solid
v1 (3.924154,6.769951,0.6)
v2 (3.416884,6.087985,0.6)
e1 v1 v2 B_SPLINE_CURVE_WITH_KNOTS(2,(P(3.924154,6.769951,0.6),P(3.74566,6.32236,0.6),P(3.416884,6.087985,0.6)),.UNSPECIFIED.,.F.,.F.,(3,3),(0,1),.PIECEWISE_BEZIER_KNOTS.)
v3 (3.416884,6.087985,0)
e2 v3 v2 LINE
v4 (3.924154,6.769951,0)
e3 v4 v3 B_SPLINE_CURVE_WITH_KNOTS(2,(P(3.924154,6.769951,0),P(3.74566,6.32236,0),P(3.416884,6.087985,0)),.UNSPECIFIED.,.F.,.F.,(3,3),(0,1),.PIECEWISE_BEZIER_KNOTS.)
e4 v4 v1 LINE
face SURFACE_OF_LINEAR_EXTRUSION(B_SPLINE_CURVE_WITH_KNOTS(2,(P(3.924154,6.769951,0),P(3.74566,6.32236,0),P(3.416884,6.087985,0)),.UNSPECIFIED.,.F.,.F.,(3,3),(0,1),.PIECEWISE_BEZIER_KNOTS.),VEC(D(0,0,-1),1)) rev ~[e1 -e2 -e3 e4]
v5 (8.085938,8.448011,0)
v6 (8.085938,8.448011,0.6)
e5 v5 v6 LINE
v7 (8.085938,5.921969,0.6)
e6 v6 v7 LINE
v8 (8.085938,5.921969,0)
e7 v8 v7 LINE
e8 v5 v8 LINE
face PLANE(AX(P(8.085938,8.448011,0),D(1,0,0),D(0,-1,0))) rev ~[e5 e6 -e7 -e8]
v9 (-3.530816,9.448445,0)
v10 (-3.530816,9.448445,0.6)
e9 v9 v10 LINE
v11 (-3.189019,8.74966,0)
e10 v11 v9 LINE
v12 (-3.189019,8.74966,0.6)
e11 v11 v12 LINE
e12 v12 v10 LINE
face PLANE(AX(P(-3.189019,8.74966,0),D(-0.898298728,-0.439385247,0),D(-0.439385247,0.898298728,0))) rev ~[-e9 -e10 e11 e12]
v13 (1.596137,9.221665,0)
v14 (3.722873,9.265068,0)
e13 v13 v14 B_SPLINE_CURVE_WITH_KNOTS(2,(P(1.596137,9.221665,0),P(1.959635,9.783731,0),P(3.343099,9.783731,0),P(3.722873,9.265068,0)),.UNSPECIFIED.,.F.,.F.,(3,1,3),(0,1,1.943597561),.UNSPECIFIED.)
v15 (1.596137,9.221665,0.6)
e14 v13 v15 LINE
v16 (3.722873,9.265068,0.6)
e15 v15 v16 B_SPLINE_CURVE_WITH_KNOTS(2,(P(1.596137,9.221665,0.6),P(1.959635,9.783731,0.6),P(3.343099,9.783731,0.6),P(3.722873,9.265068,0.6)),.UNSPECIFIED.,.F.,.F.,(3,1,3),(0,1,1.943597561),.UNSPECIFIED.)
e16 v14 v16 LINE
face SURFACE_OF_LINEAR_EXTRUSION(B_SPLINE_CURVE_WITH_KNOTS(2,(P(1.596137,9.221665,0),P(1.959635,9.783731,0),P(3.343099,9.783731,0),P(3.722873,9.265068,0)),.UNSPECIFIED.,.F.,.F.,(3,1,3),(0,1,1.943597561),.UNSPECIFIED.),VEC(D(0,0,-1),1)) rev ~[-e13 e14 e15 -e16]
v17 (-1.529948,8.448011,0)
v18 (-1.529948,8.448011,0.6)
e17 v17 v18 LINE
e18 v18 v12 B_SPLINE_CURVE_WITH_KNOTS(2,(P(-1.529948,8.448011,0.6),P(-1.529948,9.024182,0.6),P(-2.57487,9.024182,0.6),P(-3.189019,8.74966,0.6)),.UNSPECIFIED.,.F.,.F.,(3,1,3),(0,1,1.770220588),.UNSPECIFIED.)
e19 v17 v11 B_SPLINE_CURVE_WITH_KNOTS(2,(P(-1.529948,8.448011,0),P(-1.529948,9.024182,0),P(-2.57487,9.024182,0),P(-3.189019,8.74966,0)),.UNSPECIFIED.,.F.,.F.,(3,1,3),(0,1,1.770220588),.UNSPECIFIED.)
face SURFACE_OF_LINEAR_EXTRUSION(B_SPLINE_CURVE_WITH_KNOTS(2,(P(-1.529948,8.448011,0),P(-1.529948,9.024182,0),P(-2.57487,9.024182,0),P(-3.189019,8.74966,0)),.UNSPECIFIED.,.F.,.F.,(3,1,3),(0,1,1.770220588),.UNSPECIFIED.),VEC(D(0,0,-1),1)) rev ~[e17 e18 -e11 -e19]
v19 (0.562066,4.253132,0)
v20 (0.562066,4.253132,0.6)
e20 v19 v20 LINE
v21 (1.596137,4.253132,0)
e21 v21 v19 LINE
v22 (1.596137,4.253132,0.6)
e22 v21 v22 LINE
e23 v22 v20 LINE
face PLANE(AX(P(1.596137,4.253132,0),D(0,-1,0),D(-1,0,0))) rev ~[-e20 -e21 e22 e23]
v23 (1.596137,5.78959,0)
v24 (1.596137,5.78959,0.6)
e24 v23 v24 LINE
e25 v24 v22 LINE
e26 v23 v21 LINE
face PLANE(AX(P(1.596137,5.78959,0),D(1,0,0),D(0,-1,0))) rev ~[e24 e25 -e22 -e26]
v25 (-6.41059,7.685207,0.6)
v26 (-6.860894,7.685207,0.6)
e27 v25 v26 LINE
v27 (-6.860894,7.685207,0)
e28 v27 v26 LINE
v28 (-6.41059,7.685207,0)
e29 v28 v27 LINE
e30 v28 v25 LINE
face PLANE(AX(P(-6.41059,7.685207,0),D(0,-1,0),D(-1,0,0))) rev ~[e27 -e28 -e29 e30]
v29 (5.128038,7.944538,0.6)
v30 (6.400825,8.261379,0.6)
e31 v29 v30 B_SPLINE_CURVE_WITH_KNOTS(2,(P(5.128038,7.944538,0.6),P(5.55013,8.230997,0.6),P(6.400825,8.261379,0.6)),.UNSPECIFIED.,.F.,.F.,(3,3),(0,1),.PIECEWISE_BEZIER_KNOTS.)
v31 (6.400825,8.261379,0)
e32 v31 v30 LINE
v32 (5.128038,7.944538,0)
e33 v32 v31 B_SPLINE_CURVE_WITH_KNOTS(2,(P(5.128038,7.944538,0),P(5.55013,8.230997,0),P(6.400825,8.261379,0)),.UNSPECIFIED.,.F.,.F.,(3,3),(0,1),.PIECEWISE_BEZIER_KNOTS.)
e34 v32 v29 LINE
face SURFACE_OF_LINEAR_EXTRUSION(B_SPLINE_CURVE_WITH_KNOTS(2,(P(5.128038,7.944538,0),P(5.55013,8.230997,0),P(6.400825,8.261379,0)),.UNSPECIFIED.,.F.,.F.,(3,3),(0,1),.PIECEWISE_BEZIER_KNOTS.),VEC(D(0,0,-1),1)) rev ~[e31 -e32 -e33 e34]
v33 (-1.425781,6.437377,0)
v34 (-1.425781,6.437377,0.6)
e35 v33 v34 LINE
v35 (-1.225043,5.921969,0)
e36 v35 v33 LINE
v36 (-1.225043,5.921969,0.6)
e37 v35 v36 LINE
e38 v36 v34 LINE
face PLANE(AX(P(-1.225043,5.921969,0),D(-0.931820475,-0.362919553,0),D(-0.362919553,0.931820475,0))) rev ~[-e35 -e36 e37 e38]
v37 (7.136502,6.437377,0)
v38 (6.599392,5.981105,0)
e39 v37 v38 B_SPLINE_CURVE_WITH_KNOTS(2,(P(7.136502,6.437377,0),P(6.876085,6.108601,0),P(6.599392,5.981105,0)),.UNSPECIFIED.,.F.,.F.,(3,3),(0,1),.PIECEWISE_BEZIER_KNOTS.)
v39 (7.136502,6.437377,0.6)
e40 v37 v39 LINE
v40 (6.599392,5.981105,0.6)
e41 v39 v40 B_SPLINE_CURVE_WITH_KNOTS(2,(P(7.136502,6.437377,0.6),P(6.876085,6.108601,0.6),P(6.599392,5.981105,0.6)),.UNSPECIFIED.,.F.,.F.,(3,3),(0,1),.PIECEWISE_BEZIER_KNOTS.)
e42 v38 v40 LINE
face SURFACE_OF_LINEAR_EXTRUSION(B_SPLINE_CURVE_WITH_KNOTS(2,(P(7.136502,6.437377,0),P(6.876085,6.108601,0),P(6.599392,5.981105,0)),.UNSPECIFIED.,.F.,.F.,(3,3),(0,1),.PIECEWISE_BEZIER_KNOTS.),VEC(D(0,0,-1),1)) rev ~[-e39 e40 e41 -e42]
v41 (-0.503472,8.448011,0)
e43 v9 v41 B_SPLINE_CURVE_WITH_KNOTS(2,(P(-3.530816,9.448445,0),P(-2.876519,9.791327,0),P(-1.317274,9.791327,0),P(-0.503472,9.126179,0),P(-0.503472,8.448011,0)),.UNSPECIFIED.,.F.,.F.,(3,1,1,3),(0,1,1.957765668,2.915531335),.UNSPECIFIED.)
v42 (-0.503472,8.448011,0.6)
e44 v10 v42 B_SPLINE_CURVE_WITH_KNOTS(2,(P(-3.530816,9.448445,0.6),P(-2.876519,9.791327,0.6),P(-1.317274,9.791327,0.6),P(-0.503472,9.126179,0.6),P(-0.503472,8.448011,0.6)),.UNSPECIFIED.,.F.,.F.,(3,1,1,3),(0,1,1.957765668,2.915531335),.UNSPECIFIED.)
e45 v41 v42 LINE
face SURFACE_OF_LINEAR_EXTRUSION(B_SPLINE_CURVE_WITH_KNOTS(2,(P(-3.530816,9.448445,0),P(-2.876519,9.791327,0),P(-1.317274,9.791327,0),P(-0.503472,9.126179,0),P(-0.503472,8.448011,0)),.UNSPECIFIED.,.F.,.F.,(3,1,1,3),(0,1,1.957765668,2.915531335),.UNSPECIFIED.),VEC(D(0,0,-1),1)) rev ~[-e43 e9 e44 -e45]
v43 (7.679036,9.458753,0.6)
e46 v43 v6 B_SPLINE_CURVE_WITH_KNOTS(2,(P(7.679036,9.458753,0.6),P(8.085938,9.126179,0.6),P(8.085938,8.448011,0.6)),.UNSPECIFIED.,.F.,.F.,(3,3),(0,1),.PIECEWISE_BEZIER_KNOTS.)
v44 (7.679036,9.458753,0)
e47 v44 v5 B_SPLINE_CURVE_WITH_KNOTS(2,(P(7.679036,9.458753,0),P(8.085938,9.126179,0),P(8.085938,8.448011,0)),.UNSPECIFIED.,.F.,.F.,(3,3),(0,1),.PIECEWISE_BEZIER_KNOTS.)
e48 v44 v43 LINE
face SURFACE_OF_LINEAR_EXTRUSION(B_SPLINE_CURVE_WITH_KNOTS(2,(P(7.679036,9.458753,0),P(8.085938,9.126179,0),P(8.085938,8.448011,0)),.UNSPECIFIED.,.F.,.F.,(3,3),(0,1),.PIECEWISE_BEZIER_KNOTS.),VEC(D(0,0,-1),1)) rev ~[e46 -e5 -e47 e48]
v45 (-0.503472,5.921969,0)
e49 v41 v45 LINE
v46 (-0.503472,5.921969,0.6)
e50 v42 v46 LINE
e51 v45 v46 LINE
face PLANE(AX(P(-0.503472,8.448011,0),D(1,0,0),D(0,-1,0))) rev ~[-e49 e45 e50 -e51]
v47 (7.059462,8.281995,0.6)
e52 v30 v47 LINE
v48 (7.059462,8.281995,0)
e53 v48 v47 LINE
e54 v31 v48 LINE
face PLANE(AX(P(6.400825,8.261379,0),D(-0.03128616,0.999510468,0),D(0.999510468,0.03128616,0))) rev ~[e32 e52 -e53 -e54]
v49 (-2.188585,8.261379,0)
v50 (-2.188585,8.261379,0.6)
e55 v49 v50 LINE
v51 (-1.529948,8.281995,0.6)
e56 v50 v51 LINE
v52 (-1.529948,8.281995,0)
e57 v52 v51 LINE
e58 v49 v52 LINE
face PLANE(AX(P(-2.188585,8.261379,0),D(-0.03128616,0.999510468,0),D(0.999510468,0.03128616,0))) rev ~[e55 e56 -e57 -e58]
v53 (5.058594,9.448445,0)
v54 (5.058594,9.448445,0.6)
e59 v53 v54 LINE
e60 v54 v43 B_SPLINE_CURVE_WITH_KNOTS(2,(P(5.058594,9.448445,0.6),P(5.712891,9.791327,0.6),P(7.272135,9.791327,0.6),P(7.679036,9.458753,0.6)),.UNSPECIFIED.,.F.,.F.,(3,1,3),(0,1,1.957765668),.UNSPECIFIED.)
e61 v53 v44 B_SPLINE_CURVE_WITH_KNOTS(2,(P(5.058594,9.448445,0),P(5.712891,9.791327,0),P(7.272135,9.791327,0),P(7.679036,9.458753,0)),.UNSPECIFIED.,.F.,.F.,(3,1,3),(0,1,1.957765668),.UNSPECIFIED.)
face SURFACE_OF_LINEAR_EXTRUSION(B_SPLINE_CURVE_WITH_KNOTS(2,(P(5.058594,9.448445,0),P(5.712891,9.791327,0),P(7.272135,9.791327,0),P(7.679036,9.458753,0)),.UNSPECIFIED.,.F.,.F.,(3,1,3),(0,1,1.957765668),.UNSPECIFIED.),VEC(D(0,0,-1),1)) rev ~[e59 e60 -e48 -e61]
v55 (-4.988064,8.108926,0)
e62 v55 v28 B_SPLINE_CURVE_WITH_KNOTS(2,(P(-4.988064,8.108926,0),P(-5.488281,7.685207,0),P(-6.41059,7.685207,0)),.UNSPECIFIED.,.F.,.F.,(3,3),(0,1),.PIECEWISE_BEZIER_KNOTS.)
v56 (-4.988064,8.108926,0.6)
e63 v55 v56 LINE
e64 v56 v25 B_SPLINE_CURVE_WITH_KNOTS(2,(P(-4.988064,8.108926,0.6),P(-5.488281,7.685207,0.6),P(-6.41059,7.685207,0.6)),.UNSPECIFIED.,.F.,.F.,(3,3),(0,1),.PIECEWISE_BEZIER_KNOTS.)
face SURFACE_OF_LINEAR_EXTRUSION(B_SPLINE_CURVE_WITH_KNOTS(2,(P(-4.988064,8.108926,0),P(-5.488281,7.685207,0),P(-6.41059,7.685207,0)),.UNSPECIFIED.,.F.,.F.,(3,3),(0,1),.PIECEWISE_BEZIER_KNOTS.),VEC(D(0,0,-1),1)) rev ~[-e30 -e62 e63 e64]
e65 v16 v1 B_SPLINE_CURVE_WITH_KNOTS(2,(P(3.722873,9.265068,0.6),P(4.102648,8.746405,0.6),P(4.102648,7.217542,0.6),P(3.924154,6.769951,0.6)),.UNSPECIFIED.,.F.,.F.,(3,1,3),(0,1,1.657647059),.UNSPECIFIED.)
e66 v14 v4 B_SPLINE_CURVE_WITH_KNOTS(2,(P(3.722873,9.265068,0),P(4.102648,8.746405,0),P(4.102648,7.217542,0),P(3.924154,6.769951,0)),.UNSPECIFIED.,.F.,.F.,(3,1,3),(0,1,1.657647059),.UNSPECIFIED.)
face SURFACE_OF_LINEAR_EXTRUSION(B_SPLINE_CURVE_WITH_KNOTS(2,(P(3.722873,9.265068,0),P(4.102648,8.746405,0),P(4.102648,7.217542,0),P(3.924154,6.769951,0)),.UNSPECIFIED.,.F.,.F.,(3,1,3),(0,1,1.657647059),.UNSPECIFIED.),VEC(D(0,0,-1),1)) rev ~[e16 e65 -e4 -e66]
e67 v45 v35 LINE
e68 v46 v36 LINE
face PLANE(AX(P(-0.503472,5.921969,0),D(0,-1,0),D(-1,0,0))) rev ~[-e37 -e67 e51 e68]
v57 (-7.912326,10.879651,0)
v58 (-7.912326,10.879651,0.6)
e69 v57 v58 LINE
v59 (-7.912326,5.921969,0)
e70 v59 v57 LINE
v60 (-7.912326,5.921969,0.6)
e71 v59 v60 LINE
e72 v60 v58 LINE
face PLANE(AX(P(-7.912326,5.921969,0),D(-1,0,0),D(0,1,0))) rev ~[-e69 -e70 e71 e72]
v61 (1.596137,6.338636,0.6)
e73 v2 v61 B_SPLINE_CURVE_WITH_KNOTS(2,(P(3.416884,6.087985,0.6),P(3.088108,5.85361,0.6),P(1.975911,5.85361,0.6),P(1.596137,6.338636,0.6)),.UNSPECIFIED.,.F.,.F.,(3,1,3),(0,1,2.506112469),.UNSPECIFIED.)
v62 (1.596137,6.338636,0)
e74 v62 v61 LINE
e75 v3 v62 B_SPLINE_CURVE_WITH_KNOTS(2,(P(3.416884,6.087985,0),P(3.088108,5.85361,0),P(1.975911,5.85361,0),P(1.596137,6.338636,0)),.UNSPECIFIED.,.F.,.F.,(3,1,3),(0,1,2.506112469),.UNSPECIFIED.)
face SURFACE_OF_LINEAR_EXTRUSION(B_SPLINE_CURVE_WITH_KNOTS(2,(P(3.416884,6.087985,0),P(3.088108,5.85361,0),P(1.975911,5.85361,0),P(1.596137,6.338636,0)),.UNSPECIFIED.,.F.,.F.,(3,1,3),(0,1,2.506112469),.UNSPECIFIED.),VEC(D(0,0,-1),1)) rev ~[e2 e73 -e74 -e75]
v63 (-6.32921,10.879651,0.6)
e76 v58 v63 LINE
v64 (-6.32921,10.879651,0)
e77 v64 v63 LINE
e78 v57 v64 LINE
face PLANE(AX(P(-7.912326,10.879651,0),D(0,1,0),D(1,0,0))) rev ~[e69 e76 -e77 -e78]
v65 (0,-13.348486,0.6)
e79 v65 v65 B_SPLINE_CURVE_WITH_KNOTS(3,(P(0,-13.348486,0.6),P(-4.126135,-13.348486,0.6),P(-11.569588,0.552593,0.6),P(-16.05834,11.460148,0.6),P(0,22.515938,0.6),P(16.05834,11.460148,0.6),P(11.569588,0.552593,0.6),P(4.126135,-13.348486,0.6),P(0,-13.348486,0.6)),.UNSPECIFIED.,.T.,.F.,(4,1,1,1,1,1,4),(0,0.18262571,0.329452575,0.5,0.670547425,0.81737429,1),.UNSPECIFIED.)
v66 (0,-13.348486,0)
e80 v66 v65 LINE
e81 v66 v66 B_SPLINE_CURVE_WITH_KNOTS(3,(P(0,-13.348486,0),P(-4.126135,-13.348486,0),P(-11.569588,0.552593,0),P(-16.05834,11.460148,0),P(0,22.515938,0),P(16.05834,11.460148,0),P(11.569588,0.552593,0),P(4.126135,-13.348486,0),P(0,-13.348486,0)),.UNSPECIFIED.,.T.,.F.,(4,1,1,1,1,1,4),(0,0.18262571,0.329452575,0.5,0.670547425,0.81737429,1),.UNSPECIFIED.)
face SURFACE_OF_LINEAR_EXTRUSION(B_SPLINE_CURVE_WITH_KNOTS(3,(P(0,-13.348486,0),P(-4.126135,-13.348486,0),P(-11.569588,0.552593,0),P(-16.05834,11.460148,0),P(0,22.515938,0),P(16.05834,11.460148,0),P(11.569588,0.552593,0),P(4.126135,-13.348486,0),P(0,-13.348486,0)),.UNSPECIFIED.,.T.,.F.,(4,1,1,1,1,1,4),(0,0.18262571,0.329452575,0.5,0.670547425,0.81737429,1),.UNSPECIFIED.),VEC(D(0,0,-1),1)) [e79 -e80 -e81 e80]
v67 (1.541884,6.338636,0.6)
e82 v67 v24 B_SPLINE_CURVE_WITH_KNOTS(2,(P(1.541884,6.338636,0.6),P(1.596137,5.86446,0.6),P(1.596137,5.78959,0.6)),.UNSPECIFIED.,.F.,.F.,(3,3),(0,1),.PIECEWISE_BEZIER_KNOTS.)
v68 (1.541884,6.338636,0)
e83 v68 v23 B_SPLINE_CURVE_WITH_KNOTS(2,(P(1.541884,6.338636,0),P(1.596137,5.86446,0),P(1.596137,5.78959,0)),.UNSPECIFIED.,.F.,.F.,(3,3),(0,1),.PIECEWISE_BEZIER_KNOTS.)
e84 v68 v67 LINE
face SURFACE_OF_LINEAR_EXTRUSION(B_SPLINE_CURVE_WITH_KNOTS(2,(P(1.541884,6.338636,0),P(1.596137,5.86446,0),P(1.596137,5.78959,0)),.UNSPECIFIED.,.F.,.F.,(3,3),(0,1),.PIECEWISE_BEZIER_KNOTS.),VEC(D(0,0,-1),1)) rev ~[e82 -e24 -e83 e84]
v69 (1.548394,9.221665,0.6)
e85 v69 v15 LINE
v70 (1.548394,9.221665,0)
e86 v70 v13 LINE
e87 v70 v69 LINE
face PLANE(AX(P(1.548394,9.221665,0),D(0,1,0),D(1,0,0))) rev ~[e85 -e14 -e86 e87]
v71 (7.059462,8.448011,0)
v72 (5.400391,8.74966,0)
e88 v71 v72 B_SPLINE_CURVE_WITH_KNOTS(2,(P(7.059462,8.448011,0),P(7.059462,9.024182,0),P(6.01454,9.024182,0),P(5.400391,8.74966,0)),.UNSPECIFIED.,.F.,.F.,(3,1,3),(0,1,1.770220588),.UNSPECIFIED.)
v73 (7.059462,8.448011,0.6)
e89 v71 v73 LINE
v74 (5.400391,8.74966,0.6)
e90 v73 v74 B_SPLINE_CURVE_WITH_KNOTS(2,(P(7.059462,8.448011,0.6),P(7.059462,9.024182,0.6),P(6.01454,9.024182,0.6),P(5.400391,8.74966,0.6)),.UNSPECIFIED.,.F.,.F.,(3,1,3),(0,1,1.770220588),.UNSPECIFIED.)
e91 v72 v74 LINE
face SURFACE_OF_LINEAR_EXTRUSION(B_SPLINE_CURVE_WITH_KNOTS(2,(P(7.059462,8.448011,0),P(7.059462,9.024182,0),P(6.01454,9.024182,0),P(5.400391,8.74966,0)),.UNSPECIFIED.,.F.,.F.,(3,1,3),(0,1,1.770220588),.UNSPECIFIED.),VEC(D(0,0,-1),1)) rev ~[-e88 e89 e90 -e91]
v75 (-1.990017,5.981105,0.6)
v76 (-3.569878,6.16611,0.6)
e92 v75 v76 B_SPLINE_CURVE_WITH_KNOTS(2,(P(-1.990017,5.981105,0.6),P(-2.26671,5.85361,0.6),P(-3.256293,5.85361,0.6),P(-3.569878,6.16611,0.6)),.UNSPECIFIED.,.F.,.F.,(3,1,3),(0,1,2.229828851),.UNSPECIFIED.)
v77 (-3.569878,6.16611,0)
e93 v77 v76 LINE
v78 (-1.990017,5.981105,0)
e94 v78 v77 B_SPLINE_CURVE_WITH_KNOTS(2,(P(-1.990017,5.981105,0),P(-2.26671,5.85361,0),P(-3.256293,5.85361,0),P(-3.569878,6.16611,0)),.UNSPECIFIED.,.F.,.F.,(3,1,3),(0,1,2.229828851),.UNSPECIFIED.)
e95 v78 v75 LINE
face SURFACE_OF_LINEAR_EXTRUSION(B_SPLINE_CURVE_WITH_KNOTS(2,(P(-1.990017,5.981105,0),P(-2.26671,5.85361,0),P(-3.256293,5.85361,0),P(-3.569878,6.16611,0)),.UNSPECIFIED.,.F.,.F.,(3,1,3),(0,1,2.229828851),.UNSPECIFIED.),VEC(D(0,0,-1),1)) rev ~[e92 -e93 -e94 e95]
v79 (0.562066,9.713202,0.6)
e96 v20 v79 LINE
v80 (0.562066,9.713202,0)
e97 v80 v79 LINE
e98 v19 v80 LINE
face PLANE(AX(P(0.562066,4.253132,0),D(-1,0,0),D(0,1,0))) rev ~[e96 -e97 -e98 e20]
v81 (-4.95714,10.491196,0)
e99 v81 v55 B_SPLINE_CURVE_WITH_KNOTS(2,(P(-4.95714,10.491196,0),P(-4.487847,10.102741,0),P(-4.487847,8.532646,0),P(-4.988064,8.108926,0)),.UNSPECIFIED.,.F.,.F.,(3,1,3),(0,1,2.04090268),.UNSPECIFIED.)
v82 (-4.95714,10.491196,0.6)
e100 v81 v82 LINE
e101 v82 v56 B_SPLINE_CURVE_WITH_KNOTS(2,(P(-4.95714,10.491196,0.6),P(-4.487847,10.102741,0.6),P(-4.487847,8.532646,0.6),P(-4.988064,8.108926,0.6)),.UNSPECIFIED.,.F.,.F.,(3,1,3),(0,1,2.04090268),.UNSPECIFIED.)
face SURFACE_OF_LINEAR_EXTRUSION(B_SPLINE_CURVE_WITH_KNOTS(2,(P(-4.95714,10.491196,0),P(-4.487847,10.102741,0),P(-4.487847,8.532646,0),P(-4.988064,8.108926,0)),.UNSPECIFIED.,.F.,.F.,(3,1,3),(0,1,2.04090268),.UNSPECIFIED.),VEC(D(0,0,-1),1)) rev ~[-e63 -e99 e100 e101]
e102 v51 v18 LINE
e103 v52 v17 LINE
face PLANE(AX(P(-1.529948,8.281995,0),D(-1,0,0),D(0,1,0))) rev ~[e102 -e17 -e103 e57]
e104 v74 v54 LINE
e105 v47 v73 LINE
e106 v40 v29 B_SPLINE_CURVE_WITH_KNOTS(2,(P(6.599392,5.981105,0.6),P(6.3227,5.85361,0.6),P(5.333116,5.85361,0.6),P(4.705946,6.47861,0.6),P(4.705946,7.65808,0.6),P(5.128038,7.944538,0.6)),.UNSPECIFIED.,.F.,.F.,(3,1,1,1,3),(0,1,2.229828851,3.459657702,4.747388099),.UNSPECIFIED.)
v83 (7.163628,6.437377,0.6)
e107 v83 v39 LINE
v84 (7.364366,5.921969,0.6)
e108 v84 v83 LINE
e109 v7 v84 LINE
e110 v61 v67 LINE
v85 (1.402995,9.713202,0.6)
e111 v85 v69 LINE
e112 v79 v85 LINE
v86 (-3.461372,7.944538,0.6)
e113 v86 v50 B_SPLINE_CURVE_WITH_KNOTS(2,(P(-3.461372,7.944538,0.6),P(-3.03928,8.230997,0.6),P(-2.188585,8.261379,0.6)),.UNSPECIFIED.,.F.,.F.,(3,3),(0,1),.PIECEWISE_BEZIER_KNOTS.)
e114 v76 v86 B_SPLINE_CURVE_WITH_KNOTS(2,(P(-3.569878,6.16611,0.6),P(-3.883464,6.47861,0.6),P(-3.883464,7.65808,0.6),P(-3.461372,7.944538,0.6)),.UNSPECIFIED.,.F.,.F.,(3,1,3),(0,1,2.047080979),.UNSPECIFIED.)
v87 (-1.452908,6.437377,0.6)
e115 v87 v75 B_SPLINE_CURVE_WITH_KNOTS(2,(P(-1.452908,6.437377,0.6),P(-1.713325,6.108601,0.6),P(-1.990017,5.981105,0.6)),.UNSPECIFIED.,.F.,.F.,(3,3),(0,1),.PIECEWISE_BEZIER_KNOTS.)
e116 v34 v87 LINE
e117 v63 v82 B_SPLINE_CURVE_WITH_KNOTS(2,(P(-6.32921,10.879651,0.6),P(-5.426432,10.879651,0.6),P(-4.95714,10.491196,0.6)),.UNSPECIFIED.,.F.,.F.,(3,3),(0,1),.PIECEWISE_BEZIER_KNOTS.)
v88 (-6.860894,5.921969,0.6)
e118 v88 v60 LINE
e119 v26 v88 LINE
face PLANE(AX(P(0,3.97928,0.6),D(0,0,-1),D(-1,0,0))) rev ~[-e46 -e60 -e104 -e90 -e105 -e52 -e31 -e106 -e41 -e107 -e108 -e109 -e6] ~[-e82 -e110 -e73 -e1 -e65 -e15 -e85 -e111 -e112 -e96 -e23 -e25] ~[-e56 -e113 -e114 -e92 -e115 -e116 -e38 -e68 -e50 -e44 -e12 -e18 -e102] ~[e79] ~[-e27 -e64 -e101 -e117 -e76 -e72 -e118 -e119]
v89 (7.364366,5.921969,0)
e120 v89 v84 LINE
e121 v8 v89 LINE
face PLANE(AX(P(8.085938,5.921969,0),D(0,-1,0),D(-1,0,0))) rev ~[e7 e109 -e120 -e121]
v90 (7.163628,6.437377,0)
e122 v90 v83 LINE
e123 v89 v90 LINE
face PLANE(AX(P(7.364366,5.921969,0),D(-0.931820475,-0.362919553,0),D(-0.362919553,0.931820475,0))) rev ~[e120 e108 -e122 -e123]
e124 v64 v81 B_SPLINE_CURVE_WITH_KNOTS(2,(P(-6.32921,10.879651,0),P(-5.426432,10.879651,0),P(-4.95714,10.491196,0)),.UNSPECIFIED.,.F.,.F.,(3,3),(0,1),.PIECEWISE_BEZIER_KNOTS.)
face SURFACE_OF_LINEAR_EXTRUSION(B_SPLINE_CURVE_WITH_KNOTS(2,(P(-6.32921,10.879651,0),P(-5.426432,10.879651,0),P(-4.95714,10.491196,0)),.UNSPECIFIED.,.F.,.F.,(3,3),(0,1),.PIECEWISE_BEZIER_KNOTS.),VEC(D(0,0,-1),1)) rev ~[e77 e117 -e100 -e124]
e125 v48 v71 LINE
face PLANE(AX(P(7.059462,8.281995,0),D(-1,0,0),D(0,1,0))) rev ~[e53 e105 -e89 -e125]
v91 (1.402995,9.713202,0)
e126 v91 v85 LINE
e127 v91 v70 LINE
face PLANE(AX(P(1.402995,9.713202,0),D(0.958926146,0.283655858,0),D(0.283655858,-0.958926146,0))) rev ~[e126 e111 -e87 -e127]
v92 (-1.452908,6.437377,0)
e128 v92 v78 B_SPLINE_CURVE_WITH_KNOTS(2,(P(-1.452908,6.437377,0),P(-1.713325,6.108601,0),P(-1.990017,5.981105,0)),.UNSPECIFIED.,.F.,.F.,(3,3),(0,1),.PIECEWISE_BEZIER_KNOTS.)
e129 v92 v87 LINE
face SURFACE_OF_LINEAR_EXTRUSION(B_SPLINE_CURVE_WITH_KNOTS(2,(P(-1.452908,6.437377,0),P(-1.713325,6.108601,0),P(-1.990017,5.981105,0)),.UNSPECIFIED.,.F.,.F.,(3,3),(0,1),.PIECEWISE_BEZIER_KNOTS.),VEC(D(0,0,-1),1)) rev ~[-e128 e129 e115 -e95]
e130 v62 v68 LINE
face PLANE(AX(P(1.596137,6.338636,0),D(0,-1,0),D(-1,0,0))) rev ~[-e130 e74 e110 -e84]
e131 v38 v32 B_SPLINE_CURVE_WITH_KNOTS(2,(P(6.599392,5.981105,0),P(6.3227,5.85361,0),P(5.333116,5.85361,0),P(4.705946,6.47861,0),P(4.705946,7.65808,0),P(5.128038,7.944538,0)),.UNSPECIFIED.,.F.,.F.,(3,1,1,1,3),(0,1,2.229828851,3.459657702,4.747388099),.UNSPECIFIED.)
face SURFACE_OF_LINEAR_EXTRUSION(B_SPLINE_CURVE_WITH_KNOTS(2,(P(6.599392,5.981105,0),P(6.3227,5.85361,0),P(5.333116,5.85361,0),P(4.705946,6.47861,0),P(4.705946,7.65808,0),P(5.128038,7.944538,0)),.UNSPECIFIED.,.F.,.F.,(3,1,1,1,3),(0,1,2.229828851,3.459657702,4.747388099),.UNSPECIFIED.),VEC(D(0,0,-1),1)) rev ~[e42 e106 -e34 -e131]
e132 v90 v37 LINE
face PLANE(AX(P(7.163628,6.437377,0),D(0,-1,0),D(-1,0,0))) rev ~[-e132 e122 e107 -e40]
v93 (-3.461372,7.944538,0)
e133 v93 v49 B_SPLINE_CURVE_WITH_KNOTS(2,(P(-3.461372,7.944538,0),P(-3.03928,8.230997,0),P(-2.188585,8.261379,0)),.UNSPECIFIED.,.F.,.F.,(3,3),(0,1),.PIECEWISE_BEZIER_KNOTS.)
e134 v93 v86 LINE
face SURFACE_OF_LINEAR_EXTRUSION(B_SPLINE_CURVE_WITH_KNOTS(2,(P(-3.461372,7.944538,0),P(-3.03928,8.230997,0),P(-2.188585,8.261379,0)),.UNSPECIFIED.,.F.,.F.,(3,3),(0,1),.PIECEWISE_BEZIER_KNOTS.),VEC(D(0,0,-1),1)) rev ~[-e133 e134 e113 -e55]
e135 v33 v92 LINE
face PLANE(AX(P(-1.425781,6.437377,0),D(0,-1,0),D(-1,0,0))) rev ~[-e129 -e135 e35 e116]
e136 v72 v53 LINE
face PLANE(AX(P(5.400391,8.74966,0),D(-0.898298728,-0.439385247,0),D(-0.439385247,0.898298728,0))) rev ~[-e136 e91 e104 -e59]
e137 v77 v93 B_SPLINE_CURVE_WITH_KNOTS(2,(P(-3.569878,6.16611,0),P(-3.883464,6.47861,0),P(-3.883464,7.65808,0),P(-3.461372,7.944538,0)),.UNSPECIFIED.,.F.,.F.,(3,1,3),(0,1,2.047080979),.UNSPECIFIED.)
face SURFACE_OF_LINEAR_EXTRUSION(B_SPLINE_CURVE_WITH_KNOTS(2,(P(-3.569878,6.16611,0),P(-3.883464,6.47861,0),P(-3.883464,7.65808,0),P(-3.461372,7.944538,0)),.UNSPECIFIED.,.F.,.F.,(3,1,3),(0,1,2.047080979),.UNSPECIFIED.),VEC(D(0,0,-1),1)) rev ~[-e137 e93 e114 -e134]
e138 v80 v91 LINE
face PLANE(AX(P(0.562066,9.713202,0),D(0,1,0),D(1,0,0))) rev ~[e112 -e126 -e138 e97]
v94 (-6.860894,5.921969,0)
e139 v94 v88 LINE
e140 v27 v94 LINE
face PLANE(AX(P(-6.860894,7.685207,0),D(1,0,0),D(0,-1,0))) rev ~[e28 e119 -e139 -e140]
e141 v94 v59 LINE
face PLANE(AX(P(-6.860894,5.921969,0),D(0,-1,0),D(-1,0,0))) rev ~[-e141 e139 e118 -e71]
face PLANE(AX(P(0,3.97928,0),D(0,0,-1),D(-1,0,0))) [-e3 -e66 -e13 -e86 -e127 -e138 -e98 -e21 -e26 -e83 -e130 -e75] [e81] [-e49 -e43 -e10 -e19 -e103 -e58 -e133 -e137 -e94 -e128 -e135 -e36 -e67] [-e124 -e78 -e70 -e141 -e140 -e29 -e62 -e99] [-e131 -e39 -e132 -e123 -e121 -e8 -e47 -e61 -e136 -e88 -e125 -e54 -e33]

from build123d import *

# Parameters (mm, degrees)
F1_DEPTH = 0.6


with BuildPart() as f1:
    # F0 (on Top) → F1 (new body)
    with BuildSketch(Plane.XY):
        with BuildLine():
            add(Edge.make_bspline(
                [(0, -13.3484860004), (-4.1261352973, -13.3484860004), (-11.5695883563, 0.5525926673), (-16.058339722, 11.46014805), (0, 22.5159383761), (16.058339722, 11.46014805), (11.5695883563, 0.5525926673), (4.1261352973, -13.3484860004), (0, -13.3484860004)],
                knots=[0, 0, 0, 0, 0.18262571, 0.3294525753, 0.5, 0.6705474247, 0.81737429, 1, 1, 1, 1], degree=3))
        make_face()
        with BuildLine():
            add(Edge.make_bspline(
                [(-4.9571397569, 10.4911963321), (-4.4878472222, 10.102741471), (-4.4878472222, 9.3334272349)],
                knots=[0, 0, 0, 1, 1, 1], degree=2))
            add(Edge.make_bspline(
                [(-4.4878472222, 9.3334272349), (-4.4878472222, 8.5326459849), (-4.9880642361, 8.1089263668)],
                knots=[0, 0, 0, 1, 1, 1], degree=2))
            add(Edge.make_bspline(
                [(-4.9880642361, 8.1089263668), (-5.48828125, 7.6852067488), (-6.4105902778, 7.6852067488)],
                knots=[0, 0, 0, 1, 1, 1], degree=2))
            Line((-6.4105902778, 7.6852067488), (-6.8608940972, 7.6852067488))
            Line((-6.8608940972, 7.6852067488), (-6.8608940972, 5.9219689015))
            Line((-6.8608940972, 5.9219689015), (-7.9123263889, 5.9219689015))
            Line((-7.9123263889, 5.9219689015), (-7.9123263889, 10.8796511932))
            Line((-7.9123263889, 10.8796511932), (-6.3292100694, 10.8796511932))
            add(Edge.make_bspline(
                [(-6.3292100694, 10.8796511932), (-5.4264322917, 10.8796511932), (-4.9571397569, 10.4911963321)],
                knots=[0, 0, 0, 1, 1, 1], degree=2))
        make_face(mode=Mode.SUBTRACT)
        with BuildLine():
            Line((-0.5034722222, 5.9219689015), (-1.2250434028, 5.9219689015))
            Line((-1.2250434028, 5.9219689015), (-1.42578125, 6.4373768876))
            Line((-1.42578125, 6.4373768876), (-1.4529079861, 6.4373768876))
            add(Edge.make_bspline(
                [(-1.4529079861, 6.4373768876), (-1.7133246528, 6.108600846), (-1.9900173611, 5.9811051863)],
                knots=[0, 0, 0, 1, 1, 1], degree=2))
            add(Edge.make_bspline(
                [(-1.9900173611, 5.9811051863), (-2.2667100694, 5.8536095265), (-2.7105034722, 5.8536095265)],
                knots=[0, 0, 0, 1, 1, 1], degree=2))
            add(Edge.make_bspline(
                [(-2.7105034722, 5.8536095265), (-3.2562934028, 5.8536095265), (-3.5698784722, 6.1661095265)],
                knots=[0, 0, 0, 1, 1, 1], degree=2))
            add(Edge.make_bspline(
                [(-3.5698784722, 6.1661095265), (-3.8834635417, 6.4786095265), (-3.8834635417, 7.0547814015)],
                knots=[0, 0, 0, 1, 1, 1], degree=2))
            add(Edge.make_bspline(
                [(-3.8834635417, 7.0547814015), (-3.8834635417, 7.6580800126), (-3.4613715278, 7.944538346)],
                knots=[0, 0, 0, 1, 1, 1], degree=2))
            add(Edge.make_bspline(
                [(-3.4613715278, 7.944538346), (-3.0392795139, 8.2309966793), (-2.1885850694, 8.2613786238)],
                knots=[0, 0, 0, 1, 1, 1], degree=2))
            Line((-2.1885850694, 8.2613786238), (-1.5299479167, 8.2819949432))
            Line((-1.5299479167, 8.2819949432), (-1.5299479167, 8.4480105682))
            add(Edge.make_bspline(
                [(-1.5299479167, 8.4480105682), (-1.5299479167, 9.0241824432), (-2.1202256944, 9.0241824432)],
                knots=[0, 0, 0, 1, 1, 1], degree=2))
            add(Edge.make_bspline(
                [(-2.1202256944, 9.0241824432), (-2.5748697917, 9.0241824432), (-3.1890190972, 8.7496598738)],
                knots=[0, 0, 0, 1, 1, 1], degree=2))
            Line((-3.1890190972, 8.7496598738), (-3.5308159722, 9.448444596))
            add(Edge.make_bspline(
                [(-3.5308159722, 9.448444596), (-2.8765190972, 9.7913265404), (-2.080078125, 9.7913265404)],
                knots=[0, 0, 0, 1, 1, 1], degree=2))
            add(Edge.make_bspline(
                [(-2.080078125, 9.7913265404), (-1.3172743056, 9.7913265404), (-0.9103732639, 9.4587527557)],
                knots=[0, 0, 0, 1, 1, 1], degree=2))
            add(Edge.make_bspline(
                [(-0.9103732639, 9.4587527557), (-0.5034722222, 9.126178971), (-0.5034722222, 8.4480105682)],
                knots=[0, 0, 0, 1, 1, 1], degree=2))
            Line((-0.5034722222, 8.4480105682), (-0.5034722222, 5.9219689015))
        make_face(mode=Mode.SUBTRACT)
        with BuildLine():
            add(Edge.make_bspline(
                [(3.4168836806, 6.0879845265), (3.0881076389, 5.8536095265), (2.6443142361, 5.8536095265)],
                knots=[0, 0, 0, 1, 1, 1], degree=2))
            add(Edge.make_bspline(
                [(2.6443142361, 5.8536095265), (1.9759114583, 5.8536095265), (1.5961371528, 6.3386355682)],
                knots=[0, 0, 0, 1, 1, 1], degree=2))
            Line((1.5961371528, 6.3386355682), (1.5418836806, 6.3386355682))
            add(Edge.make_bspline(
                [(1.5418836806, 6.3386355682), (1.5961371528, 5.864460221), (1.5961371528, 5.7895904293)],
                knots=[0, 0, 0, 1, 1, 1], degree=2))
            Line((1.5961371528, 5.7895904293), (1.5961371528, 4.253132096))
            Line((1.5961371528, 4.253132096), (0.5620659722, 4.253132096))
            Line((0.5620659722, 4.253132096), (0.5620659722, 9.7132015404))
            Line((0.5620659722, 9.7132015404), (1.4029947917, 9.7132015404))
            Line((1.4029947917, 9.7132015404), (1.5483940972, 9.2216650821))
            Line((1.5483940972, 9.2216650821), (1.5961371528, 9.2216650821))
            add(Edge.make_bspline(
                [(1.5961371528, 9.2216650821), (1.9596354167, 9.7837310543), (2.6714409722, 9.7837310543)],
                knots=[0, 0, 0, 1, 1, 1], degree=2))
            add(Edge.make_bspline(
                [(2.6714409722, 9.7837310543), (3.3430989583, 9.7837310543), (3.7228732639, 9.2650678599)],
                knots=[0, 0, 0, 1, 1, 1], degree=2))
            add(Edge.make_bspline(
                [(3.7228732639, 9.2650678599), (4.1026475694, 8.7464046654), (4.1026475694, 7.8240956376)],
                knots=[0, 0, 0, 1, 1, 1], degree=2))
            add(Edge.make_bspline(
                [(4.1026475694, 7.8240956376), (4.1026475694, 7.2175418182), (3.9241536458, 6.7699506724)],
                knots=[0, 0, 0, 1, 1, 1], degree=2))
            add(Edge.make_bspline(
                [(3.9241536458, 6.7699506724), (3.7456597222, 6.3223595265), (3.4168836806, 6.0879845265)],
                knots=[0, 0, 0, 1, 1, 1], degree=2))
        make_face(mode=Mode.SUBTRACT)
        with BuildLine():
            Line((8.0859375, 5.9219689015), (7.3643663194, 5.9219689015))
            Line((7.3643663194, 5.9219689015), (7.1636284722, 6.4373768876))
            Line((7.1636284722, 6.4373768876), (7.1365017361, 6.4373768876))
            add(Edge.make_bspline(
                [(7.1365017361, 6.4373768876), (6.8760850694, 6.108600846), (6.5993923611, 5.9811051863)],
                knots=[0, 0, 0, 1, 1, 1], degree=2))
            add(Edge.make_bspline(
                [(6.5993923611, 5.9811051863), (6.3226996528, 5.8536095265), (5.87890625, 5.8536095265)],
                knots=[0, 0, 0, 1, 1, 1], degree=2))
            add(Edge.make_bspline(
                [(5.87890625, 5.8536095265), (5.3331163194, 5.8536095265), (5.01953125, 6.1661095265)],
                knots=[0, 0, 0, 1, 1, 1], degree=2))
            add(Edge.make_bspline(
                [(5.01953125, 6.1661095265), (4.7059461806, 6.4786095265), (4.7059461806, 7.0547814015)],
                knots=[0, 0, 0, 1, 1, 1], degree=2))
            add(Edge.make_bspline(
                [(4.7059461806, 7.0547814015), (4.7059461806, 7.6580800126), (5.1280381944, 7.944538346)],
                knots=[0, 0, 0, 1, 1, 1], degree=2))
            add(Edge.make_bspline(
                [(5.1280381944, 7.944538346), (5.5501302083, 8.2309966793), (6.4008246528, 8.2613786238)],
                knots=[0, 0, 0, 1, 1, 1], degree=2))
            Line((6.4008246528, 8.2613786238), (7.0594618056, 8.2819949432))
            Line((7.0594618056, 8.2819949432), (7.0594618056, 8.4480105682))
            add(Edge.make_bspline(
                [(7.0594618056, 8.4480105682), (7.0594618056, 9.0241824432), (6.4691840278, 9.0241824432)],
                knots=[0, 0, 0, 1, 1, 1], degree=2))
            add(Edge.make_bspline(
                [(6.4691840278, 9.0241824432), (6.0145399306, 9.0241824432), (5.400390625, 8.7496598738)],
                knots=[0, 0, 0, 1, 1, 1], degree=2))
            Line((5.400390625, 8.7496598738), (5.05859375, 9.448444596))
            add(Edge.make_bspline(
                [(5.05859375, 9.448444596), (5.712890625, 9.7913265404), (6.5093315972, 9.7913265404)],
                knots=[0, 0, 0, 1, 1, 1], degree=2))
            add(Edge.make_bspline(
                [(6.5093315972, 9.7913265404), (7.2721354167, 9.7913265404), (7.6790364583, 9.4587527557)],
                knots=[0, 0, 0, 1, 1, 1], degree=2))
            add(Edge.make_bspline(
                [(7.6790364583, 9.4587527557), (8.0859375, 9.126178971), (8.0859375, 8.4480105682)],
                knots=[0, 0, 0, 1, 1, 1], degree=2))
            Line((8.0859375, 8.4480105682), (8.0859375, 5.9219689015))
        make_face(mode=Mode.SUBTRACT)
    extrude(amount=F1_DEPTH)


solid = f1.part
